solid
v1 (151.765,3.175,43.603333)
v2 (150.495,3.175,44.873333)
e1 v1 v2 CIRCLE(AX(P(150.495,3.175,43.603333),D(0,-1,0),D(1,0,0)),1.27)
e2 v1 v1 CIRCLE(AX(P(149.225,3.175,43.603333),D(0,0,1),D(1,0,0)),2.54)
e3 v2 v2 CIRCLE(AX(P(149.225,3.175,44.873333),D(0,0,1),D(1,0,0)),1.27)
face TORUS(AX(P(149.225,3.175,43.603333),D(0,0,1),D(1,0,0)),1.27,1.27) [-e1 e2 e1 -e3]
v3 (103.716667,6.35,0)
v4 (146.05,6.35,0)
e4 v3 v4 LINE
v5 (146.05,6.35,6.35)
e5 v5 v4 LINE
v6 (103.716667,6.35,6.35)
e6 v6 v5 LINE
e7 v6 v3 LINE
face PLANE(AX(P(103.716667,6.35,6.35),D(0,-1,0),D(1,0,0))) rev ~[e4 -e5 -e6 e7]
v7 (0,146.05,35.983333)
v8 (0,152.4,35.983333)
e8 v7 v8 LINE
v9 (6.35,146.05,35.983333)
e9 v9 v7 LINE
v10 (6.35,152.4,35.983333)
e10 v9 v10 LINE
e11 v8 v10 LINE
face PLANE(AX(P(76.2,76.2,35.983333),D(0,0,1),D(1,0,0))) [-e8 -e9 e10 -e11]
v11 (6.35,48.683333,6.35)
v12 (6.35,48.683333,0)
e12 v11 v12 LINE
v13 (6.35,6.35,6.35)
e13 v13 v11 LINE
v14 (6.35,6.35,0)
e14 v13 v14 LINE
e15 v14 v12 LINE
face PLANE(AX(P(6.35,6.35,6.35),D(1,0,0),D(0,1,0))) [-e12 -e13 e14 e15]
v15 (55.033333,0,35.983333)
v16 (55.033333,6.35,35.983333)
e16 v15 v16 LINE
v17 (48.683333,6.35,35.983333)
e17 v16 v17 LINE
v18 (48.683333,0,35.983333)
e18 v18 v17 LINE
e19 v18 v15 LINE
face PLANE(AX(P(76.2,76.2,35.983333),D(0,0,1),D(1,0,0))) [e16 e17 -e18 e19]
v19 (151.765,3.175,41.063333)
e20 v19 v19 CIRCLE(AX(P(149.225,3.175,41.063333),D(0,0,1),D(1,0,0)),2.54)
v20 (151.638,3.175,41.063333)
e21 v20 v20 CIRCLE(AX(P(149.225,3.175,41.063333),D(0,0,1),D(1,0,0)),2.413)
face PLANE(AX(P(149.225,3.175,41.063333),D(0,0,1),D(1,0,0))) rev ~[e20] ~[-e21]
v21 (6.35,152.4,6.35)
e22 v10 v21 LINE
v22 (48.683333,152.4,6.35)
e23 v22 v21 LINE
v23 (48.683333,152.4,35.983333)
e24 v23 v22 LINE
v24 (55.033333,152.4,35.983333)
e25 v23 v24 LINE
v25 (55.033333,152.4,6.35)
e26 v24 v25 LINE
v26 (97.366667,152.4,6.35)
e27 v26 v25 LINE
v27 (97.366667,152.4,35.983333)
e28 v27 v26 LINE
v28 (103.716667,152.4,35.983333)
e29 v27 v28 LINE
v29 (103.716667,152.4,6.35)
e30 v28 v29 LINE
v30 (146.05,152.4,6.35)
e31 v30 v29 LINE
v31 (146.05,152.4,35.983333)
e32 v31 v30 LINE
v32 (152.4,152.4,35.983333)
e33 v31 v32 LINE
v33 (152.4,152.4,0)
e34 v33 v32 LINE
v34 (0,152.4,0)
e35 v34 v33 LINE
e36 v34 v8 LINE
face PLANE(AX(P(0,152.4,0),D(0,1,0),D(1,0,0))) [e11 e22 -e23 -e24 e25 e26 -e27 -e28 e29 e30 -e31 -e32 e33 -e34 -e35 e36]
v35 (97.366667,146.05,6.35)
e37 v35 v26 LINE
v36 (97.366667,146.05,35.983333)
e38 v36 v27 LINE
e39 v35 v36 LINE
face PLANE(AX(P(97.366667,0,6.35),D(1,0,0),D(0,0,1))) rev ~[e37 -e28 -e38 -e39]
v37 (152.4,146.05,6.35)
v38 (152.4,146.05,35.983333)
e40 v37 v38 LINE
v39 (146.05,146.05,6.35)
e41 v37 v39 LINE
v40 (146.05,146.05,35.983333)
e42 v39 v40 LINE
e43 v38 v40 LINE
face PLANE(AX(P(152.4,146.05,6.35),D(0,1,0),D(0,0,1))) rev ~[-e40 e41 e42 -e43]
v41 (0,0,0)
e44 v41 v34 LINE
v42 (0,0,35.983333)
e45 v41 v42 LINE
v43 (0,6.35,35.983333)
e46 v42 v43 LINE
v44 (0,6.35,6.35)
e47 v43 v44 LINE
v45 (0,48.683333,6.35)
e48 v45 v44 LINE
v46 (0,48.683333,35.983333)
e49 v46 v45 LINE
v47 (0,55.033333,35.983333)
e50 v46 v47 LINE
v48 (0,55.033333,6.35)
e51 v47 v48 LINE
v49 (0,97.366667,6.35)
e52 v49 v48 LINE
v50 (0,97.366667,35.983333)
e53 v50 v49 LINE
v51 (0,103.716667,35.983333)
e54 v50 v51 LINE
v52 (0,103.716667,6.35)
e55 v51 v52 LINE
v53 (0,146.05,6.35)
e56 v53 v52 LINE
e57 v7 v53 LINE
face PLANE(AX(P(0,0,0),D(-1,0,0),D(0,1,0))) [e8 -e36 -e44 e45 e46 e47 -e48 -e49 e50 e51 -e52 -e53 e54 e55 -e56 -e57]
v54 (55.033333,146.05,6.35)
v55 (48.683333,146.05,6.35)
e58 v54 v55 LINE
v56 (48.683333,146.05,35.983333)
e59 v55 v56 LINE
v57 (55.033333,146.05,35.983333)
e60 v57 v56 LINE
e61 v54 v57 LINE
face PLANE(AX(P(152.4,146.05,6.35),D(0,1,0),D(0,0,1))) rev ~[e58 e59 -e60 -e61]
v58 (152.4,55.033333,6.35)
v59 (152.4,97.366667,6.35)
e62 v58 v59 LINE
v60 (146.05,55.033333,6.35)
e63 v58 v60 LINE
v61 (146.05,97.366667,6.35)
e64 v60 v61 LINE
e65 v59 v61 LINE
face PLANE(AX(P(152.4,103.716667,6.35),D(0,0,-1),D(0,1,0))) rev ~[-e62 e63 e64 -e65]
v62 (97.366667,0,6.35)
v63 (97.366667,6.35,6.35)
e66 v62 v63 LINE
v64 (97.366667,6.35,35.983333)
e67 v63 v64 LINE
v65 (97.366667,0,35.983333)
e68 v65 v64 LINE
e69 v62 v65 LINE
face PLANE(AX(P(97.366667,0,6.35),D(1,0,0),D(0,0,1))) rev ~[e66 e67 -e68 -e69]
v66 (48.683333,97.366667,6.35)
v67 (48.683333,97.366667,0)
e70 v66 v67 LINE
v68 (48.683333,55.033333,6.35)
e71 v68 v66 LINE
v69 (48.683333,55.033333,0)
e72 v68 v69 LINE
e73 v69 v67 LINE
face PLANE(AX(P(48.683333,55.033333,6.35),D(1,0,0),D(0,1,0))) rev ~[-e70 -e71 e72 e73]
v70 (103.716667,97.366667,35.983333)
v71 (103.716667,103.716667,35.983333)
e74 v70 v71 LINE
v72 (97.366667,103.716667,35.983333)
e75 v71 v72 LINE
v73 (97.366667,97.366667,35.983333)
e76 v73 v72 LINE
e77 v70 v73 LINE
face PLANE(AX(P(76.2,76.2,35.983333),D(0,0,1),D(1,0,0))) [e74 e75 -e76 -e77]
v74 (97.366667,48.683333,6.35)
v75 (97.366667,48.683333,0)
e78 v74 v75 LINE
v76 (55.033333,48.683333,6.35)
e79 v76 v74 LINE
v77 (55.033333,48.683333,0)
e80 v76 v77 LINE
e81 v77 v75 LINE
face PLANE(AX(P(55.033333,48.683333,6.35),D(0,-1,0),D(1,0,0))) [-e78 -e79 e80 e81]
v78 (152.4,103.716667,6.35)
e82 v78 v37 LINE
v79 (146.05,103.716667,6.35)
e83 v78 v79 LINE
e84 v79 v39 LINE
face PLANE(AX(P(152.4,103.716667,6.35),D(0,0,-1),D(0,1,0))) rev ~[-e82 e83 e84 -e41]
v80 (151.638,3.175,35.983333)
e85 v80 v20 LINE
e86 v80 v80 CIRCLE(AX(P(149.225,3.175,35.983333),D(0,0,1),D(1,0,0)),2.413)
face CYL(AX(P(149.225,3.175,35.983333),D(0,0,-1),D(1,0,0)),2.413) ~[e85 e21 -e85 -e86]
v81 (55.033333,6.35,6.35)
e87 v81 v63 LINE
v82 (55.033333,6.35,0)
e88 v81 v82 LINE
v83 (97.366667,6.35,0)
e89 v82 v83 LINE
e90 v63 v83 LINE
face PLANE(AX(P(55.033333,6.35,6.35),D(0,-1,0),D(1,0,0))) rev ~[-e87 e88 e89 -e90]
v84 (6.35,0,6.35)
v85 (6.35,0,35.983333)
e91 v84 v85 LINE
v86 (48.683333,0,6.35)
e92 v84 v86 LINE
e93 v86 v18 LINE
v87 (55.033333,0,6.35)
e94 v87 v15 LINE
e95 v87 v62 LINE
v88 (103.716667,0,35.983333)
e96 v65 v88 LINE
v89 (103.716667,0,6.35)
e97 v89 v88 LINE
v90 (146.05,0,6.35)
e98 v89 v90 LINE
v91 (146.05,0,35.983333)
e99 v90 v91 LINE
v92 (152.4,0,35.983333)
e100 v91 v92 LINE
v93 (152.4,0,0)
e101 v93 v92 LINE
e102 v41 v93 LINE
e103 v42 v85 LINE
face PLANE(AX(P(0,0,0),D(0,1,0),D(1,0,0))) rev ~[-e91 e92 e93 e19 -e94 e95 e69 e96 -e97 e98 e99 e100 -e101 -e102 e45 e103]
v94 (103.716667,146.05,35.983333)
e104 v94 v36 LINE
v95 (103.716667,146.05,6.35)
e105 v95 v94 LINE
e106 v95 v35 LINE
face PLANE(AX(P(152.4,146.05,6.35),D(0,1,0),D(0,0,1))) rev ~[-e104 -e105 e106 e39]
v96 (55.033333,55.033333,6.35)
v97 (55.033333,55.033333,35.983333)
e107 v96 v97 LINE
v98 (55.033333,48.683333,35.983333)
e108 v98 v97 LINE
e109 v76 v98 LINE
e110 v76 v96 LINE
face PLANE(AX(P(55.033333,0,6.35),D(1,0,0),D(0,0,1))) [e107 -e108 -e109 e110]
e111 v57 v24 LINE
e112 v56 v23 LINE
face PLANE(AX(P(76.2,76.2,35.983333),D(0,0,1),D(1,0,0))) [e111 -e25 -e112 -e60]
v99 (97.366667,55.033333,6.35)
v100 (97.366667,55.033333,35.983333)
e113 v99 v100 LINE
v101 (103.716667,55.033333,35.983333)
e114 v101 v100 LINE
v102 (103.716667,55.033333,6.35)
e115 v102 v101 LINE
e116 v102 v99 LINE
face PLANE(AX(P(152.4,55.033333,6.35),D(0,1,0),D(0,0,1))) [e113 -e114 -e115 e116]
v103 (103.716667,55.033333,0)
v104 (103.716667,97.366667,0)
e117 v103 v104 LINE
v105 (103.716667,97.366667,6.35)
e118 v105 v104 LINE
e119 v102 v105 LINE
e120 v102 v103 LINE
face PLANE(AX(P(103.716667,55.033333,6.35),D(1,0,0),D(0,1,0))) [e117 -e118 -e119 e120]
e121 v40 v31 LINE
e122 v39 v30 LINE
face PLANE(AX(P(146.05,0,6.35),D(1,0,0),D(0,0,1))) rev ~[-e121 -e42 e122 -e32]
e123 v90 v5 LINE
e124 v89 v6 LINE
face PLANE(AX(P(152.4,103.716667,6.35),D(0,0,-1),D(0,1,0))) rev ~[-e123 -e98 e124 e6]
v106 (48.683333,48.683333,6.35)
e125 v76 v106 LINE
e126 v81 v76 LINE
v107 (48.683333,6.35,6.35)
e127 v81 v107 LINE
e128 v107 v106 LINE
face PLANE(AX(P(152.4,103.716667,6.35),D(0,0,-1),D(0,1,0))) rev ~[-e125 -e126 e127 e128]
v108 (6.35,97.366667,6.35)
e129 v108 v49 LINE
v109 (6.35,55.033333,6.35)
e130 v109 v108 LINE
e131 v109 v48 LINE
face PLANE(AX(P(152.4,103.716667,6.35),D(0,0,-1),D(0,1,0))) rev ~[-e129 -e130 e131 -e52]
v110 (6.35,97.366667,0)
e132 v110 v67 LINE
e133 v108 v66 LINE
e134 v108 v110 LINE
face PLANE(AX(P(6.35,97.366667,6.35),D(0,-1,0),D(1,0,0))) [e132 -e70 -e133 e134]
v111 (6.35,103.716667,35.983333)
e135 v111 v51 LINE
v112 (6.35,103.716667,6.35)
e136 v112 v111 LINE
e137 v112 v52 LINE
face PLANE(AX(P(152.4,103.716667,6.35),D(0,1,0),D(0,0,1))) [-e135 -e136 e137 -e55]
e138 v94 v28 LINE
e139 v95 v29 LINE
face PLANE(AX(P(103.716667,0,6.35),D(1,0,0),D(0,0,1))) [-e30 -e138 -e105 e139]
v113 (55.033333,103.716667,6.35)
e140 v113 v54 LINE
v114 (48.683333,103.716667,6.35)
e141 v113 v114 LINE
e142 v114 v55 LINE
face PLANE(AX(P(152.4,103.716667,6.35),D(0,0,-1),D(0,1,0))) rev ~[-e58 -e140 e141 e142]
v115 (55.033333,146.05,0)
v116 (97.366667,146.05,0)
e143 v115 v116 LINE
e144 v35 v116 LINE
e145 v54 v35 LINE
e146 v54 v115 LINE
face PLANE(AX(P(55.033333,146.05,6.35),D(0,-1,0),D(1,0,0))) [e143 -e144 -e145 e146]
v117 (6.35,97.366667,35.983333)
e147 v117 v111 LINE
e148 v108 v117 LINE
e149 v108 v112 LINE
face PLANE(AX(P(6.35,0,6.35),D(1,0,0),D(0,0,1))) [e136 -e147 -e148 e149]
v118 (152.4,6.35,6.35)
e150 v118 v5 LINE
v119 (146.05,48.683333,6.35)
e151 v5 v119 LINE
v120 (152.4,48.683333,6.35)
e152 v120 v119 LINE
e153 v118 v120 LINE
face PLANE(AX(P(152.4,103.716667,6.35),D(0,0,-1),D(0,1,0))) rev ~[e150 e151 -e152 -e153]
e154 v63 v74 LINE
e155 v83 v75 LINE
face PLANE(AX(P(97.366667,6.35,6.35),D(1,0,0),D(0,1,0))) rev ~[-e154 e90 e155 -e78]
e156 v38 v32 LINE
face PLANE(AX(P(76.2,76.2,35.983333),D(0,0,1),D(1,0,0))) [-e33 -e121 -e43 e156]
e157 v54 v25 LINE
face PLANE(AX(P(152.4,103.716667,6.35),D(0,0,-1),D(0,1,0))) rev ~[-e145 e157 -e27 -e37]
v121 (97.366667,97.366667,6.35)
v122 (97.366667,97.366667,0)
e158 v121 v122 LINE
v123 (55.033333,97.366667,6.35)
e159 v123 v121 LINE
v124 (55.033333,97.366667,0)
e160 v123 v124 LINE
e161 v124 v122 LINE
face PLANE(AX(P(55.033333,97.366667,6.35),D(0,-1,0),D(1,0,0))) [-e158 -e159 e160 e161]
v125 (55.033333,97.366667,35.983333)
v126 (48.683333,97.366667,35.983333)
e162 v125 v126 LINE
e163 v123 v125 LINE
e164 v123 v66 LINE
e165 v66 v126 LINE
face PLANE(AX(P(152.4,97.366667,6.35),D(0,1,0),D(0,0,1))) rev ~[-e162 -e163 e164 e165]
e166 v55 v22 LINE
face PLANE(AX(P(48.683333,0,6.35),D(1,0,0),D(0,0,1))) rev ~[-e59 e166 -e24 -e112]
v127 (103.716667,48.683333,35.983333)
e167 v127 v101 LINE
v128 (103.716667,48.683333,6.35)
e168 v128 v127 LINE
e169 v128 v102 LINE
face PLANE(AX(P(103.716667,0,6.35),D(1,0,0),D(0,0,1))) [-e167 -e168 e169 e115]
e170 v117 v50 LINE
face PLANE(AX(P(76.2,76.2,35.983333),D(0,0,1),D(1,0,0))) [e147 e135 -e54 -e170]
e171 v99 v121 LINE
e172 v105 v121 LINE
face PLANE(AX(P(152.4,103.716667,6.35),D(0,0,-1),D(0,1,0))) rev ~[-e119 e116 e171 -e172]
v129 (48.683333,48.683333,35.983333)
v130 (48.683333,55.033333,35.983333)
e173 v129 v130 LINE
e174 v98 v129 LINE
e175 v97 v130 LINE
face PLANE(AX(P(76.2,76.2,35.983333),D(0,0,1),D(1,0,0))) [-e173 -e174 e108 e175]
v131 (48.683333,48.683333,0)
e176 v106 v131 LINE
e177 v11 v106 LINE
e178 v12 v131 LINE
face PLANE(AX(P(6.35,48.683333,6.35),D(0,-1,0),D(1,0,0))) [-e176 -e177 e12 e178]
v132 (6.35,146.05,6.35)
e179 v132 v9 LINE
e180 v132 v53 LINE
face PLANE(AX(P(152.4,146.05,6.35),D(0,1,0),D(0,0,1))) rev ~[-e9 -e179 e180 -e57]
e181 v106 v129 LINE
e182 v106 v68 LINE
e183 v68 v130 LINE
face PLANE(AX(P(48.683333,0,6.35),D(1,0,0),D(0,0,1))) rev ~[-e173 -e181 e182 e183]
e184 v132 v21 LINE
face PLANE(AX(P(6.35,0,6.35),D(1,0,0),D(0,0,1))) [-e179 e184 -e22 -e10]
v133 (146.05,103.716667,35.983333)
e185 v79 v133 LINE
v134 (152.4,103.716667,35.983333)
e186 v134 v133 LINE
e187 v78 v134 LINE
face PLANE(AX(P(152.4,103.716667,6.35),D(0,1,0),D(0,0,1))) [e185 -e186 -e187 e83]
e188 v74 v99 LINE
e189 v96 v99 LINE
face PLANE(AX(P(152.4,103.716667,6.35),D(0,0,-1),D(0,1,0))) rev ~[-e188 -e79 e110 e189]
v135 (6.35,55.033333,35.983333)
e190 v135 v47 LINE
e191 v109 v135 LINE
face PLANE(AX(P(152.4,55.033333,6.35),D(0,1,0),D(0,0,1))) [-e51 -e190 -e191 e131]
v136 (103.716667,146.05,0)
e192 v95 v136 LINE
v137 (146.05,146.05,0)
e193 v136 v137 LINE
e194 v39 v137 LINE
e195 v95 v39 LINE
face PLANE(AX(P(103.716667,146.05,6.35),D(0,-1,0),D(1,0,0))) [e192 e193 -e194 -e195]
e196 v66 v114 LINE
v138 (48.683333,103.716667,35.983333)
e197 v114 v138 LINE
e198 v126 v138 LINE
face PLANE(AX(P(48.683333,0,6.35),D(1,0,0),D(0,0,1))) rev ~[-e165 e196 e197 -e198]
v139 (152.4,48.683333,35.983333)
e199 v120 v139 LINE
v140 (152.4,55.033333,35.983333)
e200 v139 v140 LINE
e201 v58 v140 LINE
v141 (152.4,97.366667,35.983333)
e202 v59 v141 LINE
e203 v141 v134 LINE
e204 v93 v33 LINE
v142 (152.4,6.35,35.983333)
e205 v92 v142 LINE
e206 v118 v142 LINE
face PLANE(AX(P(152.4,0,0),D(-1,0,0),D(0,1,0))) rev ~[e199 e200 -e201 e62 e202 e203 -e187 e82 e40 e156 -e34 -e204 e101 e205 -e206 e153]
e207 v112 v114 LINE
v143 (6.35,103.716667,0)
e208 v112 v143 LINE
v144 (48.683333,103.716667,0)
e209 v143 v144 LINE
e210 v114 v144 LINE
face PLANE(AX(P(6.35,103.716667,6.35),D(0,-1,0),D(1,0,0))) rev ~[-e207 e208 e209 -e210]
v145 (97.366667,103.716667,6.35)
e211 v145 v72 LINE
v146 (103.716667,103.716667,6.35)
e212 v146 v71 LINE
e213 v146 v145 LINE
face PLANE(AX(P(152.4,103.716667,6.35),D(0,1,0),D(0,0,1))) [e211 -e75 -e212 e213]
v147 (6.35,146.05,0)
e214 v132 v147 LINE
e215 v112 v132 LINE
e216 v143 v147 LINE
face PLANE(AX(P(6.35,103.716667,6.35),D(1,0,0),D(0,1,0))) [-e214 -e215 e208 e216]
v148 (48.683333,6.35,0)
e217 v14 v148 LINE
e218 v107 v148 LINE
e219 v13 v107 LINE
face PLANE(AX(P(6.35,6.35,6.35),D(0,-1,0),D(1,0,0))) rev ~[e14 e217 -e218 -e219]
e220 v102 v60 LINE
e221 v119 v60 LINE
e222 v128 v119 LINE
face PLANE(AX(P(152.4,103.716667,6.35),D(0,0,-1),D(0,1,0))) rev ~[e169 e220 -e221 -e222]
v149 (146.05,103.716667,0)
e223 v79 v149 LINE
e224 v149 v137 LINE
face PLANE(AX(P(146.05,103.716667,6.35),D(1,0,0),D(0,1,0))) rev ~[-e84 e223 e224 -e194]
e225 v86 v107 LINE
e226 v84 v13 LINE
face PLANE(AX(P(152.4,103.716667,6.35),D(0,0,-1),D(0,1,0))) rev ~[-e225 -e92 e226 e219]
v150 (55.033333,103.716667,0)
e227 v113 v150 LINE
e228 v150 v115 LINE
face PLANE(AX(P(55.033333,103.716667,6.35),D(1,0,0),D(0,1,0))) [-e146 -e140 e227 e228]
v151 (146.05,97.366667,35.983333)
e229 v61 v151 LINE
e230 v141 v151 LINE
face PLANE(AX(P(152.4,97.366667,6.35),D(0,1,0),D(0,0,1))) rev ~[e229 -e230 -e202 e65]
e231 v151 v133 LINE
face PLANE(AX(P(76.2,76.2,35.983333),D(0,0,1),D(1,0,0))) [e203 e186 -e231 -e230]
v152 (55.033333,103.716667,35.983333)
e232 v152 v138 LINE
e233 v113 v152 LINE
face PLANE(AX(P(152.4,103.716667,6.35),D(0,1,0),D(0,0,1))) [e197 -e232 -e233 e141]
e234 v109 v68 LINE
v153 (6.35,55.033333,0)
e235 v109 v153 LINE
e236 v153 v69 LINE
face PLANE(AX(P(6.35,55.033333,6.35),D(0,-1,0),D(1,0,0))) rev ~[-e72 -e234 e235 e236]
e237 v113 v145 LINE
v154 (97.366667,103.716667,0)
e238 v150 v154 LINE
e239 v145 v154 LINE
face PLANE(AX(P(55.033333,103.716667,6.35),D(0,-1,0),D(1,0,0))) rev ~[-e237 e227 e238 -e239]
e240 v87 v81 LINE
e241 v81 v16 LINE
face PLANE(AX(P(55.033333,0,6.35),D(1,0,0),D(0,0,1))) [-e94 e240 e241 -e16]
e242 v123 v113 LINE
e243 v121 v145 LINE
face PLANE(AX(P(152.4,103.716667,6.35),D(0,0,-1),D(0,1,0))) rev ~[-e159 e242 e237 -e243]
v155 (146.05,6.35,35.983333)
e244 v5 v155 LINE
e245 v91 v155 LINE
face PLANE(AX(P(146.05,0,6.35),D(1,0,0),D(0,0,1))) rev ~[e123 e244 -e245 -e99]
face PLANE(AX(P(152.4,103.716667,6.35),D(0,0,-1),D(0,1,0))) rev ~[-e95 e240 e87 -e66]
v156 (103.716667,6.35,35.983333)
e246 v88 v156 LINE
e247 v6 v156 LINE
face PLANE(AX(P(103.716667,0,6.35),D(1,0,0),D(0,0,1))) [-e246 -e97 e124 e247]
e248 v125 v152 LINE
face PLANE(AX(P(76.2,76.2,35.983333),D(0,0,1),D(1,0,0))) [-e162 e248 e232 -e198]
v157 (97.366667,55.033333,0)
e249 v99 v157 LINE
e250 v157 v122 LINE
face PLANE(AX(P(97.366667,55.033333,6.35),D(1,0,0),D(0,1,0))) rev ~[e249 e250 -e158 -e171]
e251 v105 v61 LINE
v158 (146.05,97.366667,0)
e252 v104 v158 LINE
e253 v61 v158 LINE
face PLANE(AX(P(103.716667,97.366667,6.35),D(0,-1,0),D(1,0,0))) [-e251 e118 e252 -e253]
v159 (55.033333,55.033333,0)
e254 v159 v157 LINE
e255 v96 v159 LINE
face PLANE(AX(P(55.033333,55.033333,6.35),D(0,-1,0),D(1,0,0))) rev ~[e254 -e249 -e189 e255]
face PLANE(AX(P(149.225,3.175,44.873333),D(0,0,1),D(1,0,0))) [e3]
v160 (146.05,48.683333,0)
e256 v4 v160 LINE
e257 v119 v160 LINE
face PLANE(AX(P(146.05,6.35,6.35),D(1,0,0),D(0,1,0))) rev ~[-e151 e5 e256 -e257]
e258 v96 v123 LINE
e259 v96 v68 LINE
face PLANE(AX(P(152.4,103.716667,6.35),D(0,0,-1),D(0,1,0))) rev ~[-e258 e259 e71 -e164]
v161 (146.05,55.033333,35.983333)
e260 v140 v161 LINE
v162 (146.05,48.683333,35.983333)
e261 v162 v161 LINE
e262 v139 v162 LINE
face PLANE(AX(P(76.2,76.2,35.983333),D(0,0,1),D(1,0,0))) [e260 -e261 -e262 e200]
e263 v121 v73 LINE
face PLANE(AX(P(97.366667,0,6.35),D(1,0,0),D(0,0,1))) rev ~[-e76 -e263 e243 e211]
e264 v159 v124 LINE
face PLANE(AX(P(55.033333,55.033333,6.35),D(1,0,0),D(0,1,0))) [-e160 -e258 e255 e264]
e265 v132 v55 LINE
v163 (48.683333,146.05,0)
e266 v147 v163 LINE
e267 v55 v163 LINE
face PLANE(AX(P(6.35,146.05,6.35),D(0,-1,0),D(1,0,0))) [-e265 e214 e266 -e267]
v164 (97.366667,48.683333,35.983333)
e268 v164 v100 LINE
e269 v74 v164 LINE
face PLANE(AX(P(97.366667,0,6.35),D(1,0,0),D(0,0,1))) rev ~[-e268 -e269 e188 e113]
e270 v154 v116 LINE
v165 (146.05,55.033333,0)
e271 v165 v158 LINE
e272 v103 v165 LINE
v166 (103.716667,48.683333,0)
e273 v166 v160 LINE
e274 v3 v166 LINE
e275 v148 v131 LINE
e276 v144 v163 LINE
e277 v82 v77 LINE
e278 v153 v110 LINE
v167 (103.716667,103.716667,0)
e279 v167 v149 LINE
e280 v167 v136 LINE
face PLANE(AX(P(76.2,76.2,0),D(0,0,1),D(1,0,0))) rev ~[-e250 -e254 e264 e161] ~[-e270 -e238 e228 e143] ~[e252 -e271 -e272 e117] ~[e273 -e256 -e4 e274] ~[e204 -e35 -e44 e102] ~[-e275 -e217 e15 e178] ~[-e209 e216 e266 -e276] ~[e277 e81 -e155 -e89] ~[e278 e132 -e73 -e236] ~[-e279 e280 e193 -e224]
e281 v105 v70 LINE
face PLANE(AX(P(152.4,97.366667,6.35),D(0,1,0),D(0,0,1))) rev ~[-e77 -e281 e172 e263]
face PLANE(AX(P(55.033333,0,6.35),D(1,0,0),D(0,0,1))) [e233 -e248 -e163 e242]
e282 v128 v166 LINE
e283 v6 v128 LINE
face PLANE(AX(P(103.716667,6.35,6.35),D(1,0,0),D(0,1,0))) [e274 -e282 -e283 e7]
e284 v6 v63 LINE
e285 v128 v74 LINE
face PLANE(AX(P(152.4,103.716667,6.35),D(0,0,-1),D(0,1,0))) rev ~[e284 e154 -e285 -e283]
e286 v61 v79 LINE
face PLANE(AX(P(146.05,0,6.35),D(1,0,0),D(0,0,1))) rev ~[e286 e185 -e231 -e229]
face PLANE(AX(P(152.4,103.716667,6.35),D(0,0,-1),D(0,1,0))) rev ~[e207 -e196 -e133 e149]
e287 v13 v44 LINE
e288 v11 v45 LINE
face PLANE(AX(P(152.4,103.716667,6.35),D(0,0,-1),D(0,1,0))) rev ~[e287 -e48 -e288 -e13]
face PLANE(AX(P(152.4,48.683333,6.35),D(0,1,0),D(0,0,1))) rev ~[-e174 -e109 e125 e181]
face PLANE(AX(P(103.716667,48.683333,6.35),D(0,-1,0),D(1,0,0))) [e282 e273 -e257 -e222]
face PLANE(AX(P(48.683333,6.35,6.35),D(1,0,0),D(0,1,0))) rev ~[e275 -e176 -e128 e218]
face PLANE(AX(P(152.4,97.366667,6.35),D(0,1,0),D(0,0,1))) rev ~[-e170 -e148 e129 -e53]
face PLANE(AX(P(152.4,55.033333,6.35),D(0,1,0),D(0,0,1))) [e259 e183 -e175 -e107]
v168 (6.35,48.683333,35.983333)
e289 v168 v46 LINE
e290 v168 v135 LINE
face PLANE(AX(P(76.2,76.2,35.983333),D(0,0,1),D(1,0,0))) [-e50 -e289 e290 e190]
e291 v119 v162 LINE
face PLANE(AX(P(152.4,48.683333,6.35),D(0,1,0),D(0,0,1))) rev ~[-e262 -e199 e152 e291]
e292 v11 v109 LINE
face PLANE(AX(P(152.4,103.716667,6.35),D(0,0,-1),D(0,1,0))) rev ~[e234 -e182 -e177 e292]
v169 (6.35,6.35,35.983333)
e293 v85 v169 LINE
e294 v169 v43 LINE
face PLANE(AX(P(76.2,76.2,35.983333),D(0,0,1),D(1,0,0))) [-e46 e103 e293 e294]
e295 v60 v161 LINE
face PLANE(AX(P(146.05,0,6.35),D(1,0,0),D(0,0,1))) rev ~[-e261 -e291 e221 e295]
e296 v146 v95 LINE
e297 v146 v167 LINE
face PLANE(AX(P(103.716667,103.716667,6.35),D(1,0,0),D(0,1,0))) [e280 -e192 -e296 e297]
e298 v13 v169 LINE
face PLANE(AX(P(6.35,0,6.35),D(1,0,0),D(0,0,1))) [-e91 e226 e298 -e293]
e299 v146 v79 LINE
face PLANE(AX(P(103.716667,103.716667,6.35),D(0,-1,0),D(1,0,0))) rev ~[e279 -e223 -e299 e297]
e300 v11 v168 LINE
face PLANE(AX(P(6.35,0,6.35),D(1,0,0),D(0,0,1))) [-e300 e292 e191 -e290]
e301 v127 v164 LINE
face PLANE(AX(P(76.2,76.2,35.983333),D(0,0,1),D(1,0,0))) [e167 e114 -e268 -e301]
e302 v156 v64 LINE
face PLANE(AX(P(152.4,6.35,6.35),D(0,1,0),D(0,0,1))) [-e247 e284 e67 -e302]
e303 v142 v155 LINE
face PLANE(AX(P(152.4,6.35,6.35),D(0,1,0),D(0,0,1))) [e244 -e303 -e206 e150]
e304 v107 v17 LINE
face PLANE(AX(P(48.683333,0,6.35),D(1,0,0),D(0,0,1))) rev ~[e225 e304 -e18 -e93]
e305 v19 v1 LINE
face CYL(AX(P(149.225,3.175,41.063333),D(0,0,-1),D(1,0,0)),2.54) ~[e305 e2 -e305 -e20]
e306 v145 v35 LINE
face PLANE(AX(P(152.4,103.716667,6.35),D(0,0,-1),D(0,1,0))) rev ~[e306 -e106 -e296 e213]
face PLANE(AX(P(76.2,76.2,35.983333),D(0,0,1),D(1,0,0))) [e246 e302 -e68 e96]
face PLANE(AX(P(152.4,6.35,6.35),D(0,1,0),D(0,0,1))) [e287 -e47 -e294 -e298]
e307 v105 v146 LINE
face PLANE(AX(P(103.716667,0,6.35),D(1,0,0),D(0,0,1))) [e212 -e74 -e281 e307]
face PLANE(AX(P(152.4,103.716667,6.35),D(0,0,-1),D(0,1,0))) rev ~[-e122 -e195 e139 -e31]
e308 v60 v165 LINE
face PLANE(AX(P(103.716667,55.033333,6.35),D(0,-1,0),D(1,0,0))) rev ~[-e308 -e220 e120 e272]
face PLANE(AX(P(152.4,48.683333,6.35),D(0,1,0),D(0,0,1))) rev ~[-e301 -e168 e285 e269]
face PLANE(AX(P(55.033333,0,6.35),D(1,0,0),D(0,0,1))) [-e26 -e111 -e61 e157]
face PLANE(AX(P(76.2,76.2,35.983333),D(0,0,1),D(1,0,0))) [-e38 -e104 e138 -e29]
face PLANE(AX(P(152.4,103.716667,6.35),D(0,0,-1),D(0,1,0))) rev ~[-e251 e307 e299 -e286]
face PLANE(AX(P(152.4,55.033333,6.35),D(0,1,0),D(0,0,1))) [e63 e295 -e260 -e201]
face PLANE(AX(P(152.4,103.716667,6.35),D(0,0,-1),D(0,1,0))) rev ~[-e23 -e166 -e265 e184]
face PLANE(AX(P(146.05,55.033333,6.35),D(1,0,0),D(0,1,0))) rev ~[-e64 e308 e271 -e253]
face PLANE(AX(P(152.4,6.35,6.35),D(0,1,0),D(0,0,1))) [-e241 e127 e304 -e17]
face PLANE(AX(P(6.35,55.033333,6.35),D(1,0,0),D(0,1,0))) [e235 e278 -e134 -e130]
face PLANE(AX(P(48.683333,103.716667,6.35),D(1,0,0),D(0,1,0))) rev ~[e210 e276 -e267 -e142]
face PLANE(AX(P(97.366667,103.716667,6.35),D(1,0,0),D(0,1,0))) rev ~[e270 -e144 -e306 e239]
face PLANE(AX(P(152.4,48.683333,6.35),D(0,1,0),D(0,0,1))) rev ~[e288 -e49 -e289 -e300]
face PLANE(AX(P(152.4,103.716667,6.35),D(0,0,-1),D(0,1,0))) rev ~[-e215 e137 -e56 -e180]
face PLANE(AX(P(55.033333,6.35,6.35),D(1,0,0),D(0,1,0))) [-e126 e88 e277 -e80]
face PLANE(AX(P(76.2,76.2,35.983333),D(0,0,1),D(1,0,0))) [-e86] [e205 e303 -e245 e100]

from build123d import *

# Parameters (mm, degrees)
F0_W      = 152.4
F0_H      = 152.4
F1_DEPTH  = 35.9833333333
F2_W      = 42.3333333333
F2_H      = 29.6333333333
F3_DEPTH  = 396.24
F4_W      = 42.3333333333
F4_H      = 29.6333333333
F5_DEPTH  = 206.248
F6_W      = 42.3333333333
F6_H      = 42.3333333333
F7_DEPTH  = 25.4
F8_R      = 2.413
F9_DEPTH  = 5.08
F10_R     = 2.54
F11_DEPTH = 3.81
F12_R     = 1.27


with BuildPart() as f1:
    # F0 (on Top) → F1 (new body)
    with BuildSketch(Plane.XY):
        with Locations((76.2, 76.2)):
            Rectangle(F0_W, F0_H)
    extrude(amount=F1_DEPTH)

    # F2 (on face) → F3 (cut)
    with BuildSketch(Plane.XZ):
        with Locations((27.5166666667, 21.1666666667)):
            Rectangle(F2_W, F2_H)
        with Locations((76.2, 21.1666666667)):
            Rectangle(F2_W, F2_H)
        with Locations((124.8833333333, 21.1666666667)):
            Rectangle(F2_W, F2_H)
    extrude(amount=-F3_DEPTH, mode=Mode.SUBTRACT)

    # F4 (on face) → F5 (cut)
    with BuildSketch(Plane.YZ.offset(152.4)):
        with Locations((27.5166666667, 21.1666666667)):
            Rectangle(F4_W, F4_H)
        with Locations((76.2, 21.1666666667)):
            Rectangle(F4_W, F4_H)
        with Locations((124.8833333333, 21.1666666667)):
            Rectangle(F4_W, F4_H)
    extrude(amount=-F5_DEPTH, mode=Mode.SUBTRACT)

    # F6 (on face) → F7 (cut)
    with BuildSketch(Plane.XY.offset(6.35)):
        with Locations((27.5166666667, 124.8833333333)):
            Rectangle(F6_W, F6_H)
        with Locations((76.2, 124.8833333333)):
            Rectangle(F6_W, F6_H)
        with Locations((124.8833333333, 124.8833333333)):
            Rectangle(F6_W, F6_H)
        with Locations((27.5166666667, 76.2)):
            Rectangle(F6_W, F6_H)
        with Locations((76.2, 76.2)):
            Rectangle(F6_W, F6_H)
        with Locations((124.8833333333, 76.2)):
            Rectangle(F6_W, F6_H)
        with Locations((27.5166666667, 27.5166666667)):
            Rectangle(F6_W, F6_H)
        with Locations((76.2, 27.5166666667)):
            Rectangle(F6_W, F6_H)
        with Locations((124.8833333333, 27.5166666667)):
            Rectangle(F6_W, F6_H)
    extrude(amount=-F7_DEPTH, mode=Mode.SUBTRACT)

    # F8 (on face) → F9 (join)
    with BuildSketch(Plane.XY.offset(35.9833333333)):
        with Locations((149.225, 3.175)):
            Circle(F8_R)
    extrude(amount=F9_DEPTH)

    # F10 (on face) → F11 (join)
    with BuildSketch(Plane.XY.offset(41.0633333333)):
        with Locations((149.225, 3.175)):
            Circle(F10_R)
    extrude(amount=F11_DEPTH)

    # F12
    f12_edges = [f1.edges().sort_by_distance(p)[0] for p in [
        (146.685, 3.175, 44.873333),
    ]]
    fillet(f12_edges, radius=F12_R)


solid = f1.part
